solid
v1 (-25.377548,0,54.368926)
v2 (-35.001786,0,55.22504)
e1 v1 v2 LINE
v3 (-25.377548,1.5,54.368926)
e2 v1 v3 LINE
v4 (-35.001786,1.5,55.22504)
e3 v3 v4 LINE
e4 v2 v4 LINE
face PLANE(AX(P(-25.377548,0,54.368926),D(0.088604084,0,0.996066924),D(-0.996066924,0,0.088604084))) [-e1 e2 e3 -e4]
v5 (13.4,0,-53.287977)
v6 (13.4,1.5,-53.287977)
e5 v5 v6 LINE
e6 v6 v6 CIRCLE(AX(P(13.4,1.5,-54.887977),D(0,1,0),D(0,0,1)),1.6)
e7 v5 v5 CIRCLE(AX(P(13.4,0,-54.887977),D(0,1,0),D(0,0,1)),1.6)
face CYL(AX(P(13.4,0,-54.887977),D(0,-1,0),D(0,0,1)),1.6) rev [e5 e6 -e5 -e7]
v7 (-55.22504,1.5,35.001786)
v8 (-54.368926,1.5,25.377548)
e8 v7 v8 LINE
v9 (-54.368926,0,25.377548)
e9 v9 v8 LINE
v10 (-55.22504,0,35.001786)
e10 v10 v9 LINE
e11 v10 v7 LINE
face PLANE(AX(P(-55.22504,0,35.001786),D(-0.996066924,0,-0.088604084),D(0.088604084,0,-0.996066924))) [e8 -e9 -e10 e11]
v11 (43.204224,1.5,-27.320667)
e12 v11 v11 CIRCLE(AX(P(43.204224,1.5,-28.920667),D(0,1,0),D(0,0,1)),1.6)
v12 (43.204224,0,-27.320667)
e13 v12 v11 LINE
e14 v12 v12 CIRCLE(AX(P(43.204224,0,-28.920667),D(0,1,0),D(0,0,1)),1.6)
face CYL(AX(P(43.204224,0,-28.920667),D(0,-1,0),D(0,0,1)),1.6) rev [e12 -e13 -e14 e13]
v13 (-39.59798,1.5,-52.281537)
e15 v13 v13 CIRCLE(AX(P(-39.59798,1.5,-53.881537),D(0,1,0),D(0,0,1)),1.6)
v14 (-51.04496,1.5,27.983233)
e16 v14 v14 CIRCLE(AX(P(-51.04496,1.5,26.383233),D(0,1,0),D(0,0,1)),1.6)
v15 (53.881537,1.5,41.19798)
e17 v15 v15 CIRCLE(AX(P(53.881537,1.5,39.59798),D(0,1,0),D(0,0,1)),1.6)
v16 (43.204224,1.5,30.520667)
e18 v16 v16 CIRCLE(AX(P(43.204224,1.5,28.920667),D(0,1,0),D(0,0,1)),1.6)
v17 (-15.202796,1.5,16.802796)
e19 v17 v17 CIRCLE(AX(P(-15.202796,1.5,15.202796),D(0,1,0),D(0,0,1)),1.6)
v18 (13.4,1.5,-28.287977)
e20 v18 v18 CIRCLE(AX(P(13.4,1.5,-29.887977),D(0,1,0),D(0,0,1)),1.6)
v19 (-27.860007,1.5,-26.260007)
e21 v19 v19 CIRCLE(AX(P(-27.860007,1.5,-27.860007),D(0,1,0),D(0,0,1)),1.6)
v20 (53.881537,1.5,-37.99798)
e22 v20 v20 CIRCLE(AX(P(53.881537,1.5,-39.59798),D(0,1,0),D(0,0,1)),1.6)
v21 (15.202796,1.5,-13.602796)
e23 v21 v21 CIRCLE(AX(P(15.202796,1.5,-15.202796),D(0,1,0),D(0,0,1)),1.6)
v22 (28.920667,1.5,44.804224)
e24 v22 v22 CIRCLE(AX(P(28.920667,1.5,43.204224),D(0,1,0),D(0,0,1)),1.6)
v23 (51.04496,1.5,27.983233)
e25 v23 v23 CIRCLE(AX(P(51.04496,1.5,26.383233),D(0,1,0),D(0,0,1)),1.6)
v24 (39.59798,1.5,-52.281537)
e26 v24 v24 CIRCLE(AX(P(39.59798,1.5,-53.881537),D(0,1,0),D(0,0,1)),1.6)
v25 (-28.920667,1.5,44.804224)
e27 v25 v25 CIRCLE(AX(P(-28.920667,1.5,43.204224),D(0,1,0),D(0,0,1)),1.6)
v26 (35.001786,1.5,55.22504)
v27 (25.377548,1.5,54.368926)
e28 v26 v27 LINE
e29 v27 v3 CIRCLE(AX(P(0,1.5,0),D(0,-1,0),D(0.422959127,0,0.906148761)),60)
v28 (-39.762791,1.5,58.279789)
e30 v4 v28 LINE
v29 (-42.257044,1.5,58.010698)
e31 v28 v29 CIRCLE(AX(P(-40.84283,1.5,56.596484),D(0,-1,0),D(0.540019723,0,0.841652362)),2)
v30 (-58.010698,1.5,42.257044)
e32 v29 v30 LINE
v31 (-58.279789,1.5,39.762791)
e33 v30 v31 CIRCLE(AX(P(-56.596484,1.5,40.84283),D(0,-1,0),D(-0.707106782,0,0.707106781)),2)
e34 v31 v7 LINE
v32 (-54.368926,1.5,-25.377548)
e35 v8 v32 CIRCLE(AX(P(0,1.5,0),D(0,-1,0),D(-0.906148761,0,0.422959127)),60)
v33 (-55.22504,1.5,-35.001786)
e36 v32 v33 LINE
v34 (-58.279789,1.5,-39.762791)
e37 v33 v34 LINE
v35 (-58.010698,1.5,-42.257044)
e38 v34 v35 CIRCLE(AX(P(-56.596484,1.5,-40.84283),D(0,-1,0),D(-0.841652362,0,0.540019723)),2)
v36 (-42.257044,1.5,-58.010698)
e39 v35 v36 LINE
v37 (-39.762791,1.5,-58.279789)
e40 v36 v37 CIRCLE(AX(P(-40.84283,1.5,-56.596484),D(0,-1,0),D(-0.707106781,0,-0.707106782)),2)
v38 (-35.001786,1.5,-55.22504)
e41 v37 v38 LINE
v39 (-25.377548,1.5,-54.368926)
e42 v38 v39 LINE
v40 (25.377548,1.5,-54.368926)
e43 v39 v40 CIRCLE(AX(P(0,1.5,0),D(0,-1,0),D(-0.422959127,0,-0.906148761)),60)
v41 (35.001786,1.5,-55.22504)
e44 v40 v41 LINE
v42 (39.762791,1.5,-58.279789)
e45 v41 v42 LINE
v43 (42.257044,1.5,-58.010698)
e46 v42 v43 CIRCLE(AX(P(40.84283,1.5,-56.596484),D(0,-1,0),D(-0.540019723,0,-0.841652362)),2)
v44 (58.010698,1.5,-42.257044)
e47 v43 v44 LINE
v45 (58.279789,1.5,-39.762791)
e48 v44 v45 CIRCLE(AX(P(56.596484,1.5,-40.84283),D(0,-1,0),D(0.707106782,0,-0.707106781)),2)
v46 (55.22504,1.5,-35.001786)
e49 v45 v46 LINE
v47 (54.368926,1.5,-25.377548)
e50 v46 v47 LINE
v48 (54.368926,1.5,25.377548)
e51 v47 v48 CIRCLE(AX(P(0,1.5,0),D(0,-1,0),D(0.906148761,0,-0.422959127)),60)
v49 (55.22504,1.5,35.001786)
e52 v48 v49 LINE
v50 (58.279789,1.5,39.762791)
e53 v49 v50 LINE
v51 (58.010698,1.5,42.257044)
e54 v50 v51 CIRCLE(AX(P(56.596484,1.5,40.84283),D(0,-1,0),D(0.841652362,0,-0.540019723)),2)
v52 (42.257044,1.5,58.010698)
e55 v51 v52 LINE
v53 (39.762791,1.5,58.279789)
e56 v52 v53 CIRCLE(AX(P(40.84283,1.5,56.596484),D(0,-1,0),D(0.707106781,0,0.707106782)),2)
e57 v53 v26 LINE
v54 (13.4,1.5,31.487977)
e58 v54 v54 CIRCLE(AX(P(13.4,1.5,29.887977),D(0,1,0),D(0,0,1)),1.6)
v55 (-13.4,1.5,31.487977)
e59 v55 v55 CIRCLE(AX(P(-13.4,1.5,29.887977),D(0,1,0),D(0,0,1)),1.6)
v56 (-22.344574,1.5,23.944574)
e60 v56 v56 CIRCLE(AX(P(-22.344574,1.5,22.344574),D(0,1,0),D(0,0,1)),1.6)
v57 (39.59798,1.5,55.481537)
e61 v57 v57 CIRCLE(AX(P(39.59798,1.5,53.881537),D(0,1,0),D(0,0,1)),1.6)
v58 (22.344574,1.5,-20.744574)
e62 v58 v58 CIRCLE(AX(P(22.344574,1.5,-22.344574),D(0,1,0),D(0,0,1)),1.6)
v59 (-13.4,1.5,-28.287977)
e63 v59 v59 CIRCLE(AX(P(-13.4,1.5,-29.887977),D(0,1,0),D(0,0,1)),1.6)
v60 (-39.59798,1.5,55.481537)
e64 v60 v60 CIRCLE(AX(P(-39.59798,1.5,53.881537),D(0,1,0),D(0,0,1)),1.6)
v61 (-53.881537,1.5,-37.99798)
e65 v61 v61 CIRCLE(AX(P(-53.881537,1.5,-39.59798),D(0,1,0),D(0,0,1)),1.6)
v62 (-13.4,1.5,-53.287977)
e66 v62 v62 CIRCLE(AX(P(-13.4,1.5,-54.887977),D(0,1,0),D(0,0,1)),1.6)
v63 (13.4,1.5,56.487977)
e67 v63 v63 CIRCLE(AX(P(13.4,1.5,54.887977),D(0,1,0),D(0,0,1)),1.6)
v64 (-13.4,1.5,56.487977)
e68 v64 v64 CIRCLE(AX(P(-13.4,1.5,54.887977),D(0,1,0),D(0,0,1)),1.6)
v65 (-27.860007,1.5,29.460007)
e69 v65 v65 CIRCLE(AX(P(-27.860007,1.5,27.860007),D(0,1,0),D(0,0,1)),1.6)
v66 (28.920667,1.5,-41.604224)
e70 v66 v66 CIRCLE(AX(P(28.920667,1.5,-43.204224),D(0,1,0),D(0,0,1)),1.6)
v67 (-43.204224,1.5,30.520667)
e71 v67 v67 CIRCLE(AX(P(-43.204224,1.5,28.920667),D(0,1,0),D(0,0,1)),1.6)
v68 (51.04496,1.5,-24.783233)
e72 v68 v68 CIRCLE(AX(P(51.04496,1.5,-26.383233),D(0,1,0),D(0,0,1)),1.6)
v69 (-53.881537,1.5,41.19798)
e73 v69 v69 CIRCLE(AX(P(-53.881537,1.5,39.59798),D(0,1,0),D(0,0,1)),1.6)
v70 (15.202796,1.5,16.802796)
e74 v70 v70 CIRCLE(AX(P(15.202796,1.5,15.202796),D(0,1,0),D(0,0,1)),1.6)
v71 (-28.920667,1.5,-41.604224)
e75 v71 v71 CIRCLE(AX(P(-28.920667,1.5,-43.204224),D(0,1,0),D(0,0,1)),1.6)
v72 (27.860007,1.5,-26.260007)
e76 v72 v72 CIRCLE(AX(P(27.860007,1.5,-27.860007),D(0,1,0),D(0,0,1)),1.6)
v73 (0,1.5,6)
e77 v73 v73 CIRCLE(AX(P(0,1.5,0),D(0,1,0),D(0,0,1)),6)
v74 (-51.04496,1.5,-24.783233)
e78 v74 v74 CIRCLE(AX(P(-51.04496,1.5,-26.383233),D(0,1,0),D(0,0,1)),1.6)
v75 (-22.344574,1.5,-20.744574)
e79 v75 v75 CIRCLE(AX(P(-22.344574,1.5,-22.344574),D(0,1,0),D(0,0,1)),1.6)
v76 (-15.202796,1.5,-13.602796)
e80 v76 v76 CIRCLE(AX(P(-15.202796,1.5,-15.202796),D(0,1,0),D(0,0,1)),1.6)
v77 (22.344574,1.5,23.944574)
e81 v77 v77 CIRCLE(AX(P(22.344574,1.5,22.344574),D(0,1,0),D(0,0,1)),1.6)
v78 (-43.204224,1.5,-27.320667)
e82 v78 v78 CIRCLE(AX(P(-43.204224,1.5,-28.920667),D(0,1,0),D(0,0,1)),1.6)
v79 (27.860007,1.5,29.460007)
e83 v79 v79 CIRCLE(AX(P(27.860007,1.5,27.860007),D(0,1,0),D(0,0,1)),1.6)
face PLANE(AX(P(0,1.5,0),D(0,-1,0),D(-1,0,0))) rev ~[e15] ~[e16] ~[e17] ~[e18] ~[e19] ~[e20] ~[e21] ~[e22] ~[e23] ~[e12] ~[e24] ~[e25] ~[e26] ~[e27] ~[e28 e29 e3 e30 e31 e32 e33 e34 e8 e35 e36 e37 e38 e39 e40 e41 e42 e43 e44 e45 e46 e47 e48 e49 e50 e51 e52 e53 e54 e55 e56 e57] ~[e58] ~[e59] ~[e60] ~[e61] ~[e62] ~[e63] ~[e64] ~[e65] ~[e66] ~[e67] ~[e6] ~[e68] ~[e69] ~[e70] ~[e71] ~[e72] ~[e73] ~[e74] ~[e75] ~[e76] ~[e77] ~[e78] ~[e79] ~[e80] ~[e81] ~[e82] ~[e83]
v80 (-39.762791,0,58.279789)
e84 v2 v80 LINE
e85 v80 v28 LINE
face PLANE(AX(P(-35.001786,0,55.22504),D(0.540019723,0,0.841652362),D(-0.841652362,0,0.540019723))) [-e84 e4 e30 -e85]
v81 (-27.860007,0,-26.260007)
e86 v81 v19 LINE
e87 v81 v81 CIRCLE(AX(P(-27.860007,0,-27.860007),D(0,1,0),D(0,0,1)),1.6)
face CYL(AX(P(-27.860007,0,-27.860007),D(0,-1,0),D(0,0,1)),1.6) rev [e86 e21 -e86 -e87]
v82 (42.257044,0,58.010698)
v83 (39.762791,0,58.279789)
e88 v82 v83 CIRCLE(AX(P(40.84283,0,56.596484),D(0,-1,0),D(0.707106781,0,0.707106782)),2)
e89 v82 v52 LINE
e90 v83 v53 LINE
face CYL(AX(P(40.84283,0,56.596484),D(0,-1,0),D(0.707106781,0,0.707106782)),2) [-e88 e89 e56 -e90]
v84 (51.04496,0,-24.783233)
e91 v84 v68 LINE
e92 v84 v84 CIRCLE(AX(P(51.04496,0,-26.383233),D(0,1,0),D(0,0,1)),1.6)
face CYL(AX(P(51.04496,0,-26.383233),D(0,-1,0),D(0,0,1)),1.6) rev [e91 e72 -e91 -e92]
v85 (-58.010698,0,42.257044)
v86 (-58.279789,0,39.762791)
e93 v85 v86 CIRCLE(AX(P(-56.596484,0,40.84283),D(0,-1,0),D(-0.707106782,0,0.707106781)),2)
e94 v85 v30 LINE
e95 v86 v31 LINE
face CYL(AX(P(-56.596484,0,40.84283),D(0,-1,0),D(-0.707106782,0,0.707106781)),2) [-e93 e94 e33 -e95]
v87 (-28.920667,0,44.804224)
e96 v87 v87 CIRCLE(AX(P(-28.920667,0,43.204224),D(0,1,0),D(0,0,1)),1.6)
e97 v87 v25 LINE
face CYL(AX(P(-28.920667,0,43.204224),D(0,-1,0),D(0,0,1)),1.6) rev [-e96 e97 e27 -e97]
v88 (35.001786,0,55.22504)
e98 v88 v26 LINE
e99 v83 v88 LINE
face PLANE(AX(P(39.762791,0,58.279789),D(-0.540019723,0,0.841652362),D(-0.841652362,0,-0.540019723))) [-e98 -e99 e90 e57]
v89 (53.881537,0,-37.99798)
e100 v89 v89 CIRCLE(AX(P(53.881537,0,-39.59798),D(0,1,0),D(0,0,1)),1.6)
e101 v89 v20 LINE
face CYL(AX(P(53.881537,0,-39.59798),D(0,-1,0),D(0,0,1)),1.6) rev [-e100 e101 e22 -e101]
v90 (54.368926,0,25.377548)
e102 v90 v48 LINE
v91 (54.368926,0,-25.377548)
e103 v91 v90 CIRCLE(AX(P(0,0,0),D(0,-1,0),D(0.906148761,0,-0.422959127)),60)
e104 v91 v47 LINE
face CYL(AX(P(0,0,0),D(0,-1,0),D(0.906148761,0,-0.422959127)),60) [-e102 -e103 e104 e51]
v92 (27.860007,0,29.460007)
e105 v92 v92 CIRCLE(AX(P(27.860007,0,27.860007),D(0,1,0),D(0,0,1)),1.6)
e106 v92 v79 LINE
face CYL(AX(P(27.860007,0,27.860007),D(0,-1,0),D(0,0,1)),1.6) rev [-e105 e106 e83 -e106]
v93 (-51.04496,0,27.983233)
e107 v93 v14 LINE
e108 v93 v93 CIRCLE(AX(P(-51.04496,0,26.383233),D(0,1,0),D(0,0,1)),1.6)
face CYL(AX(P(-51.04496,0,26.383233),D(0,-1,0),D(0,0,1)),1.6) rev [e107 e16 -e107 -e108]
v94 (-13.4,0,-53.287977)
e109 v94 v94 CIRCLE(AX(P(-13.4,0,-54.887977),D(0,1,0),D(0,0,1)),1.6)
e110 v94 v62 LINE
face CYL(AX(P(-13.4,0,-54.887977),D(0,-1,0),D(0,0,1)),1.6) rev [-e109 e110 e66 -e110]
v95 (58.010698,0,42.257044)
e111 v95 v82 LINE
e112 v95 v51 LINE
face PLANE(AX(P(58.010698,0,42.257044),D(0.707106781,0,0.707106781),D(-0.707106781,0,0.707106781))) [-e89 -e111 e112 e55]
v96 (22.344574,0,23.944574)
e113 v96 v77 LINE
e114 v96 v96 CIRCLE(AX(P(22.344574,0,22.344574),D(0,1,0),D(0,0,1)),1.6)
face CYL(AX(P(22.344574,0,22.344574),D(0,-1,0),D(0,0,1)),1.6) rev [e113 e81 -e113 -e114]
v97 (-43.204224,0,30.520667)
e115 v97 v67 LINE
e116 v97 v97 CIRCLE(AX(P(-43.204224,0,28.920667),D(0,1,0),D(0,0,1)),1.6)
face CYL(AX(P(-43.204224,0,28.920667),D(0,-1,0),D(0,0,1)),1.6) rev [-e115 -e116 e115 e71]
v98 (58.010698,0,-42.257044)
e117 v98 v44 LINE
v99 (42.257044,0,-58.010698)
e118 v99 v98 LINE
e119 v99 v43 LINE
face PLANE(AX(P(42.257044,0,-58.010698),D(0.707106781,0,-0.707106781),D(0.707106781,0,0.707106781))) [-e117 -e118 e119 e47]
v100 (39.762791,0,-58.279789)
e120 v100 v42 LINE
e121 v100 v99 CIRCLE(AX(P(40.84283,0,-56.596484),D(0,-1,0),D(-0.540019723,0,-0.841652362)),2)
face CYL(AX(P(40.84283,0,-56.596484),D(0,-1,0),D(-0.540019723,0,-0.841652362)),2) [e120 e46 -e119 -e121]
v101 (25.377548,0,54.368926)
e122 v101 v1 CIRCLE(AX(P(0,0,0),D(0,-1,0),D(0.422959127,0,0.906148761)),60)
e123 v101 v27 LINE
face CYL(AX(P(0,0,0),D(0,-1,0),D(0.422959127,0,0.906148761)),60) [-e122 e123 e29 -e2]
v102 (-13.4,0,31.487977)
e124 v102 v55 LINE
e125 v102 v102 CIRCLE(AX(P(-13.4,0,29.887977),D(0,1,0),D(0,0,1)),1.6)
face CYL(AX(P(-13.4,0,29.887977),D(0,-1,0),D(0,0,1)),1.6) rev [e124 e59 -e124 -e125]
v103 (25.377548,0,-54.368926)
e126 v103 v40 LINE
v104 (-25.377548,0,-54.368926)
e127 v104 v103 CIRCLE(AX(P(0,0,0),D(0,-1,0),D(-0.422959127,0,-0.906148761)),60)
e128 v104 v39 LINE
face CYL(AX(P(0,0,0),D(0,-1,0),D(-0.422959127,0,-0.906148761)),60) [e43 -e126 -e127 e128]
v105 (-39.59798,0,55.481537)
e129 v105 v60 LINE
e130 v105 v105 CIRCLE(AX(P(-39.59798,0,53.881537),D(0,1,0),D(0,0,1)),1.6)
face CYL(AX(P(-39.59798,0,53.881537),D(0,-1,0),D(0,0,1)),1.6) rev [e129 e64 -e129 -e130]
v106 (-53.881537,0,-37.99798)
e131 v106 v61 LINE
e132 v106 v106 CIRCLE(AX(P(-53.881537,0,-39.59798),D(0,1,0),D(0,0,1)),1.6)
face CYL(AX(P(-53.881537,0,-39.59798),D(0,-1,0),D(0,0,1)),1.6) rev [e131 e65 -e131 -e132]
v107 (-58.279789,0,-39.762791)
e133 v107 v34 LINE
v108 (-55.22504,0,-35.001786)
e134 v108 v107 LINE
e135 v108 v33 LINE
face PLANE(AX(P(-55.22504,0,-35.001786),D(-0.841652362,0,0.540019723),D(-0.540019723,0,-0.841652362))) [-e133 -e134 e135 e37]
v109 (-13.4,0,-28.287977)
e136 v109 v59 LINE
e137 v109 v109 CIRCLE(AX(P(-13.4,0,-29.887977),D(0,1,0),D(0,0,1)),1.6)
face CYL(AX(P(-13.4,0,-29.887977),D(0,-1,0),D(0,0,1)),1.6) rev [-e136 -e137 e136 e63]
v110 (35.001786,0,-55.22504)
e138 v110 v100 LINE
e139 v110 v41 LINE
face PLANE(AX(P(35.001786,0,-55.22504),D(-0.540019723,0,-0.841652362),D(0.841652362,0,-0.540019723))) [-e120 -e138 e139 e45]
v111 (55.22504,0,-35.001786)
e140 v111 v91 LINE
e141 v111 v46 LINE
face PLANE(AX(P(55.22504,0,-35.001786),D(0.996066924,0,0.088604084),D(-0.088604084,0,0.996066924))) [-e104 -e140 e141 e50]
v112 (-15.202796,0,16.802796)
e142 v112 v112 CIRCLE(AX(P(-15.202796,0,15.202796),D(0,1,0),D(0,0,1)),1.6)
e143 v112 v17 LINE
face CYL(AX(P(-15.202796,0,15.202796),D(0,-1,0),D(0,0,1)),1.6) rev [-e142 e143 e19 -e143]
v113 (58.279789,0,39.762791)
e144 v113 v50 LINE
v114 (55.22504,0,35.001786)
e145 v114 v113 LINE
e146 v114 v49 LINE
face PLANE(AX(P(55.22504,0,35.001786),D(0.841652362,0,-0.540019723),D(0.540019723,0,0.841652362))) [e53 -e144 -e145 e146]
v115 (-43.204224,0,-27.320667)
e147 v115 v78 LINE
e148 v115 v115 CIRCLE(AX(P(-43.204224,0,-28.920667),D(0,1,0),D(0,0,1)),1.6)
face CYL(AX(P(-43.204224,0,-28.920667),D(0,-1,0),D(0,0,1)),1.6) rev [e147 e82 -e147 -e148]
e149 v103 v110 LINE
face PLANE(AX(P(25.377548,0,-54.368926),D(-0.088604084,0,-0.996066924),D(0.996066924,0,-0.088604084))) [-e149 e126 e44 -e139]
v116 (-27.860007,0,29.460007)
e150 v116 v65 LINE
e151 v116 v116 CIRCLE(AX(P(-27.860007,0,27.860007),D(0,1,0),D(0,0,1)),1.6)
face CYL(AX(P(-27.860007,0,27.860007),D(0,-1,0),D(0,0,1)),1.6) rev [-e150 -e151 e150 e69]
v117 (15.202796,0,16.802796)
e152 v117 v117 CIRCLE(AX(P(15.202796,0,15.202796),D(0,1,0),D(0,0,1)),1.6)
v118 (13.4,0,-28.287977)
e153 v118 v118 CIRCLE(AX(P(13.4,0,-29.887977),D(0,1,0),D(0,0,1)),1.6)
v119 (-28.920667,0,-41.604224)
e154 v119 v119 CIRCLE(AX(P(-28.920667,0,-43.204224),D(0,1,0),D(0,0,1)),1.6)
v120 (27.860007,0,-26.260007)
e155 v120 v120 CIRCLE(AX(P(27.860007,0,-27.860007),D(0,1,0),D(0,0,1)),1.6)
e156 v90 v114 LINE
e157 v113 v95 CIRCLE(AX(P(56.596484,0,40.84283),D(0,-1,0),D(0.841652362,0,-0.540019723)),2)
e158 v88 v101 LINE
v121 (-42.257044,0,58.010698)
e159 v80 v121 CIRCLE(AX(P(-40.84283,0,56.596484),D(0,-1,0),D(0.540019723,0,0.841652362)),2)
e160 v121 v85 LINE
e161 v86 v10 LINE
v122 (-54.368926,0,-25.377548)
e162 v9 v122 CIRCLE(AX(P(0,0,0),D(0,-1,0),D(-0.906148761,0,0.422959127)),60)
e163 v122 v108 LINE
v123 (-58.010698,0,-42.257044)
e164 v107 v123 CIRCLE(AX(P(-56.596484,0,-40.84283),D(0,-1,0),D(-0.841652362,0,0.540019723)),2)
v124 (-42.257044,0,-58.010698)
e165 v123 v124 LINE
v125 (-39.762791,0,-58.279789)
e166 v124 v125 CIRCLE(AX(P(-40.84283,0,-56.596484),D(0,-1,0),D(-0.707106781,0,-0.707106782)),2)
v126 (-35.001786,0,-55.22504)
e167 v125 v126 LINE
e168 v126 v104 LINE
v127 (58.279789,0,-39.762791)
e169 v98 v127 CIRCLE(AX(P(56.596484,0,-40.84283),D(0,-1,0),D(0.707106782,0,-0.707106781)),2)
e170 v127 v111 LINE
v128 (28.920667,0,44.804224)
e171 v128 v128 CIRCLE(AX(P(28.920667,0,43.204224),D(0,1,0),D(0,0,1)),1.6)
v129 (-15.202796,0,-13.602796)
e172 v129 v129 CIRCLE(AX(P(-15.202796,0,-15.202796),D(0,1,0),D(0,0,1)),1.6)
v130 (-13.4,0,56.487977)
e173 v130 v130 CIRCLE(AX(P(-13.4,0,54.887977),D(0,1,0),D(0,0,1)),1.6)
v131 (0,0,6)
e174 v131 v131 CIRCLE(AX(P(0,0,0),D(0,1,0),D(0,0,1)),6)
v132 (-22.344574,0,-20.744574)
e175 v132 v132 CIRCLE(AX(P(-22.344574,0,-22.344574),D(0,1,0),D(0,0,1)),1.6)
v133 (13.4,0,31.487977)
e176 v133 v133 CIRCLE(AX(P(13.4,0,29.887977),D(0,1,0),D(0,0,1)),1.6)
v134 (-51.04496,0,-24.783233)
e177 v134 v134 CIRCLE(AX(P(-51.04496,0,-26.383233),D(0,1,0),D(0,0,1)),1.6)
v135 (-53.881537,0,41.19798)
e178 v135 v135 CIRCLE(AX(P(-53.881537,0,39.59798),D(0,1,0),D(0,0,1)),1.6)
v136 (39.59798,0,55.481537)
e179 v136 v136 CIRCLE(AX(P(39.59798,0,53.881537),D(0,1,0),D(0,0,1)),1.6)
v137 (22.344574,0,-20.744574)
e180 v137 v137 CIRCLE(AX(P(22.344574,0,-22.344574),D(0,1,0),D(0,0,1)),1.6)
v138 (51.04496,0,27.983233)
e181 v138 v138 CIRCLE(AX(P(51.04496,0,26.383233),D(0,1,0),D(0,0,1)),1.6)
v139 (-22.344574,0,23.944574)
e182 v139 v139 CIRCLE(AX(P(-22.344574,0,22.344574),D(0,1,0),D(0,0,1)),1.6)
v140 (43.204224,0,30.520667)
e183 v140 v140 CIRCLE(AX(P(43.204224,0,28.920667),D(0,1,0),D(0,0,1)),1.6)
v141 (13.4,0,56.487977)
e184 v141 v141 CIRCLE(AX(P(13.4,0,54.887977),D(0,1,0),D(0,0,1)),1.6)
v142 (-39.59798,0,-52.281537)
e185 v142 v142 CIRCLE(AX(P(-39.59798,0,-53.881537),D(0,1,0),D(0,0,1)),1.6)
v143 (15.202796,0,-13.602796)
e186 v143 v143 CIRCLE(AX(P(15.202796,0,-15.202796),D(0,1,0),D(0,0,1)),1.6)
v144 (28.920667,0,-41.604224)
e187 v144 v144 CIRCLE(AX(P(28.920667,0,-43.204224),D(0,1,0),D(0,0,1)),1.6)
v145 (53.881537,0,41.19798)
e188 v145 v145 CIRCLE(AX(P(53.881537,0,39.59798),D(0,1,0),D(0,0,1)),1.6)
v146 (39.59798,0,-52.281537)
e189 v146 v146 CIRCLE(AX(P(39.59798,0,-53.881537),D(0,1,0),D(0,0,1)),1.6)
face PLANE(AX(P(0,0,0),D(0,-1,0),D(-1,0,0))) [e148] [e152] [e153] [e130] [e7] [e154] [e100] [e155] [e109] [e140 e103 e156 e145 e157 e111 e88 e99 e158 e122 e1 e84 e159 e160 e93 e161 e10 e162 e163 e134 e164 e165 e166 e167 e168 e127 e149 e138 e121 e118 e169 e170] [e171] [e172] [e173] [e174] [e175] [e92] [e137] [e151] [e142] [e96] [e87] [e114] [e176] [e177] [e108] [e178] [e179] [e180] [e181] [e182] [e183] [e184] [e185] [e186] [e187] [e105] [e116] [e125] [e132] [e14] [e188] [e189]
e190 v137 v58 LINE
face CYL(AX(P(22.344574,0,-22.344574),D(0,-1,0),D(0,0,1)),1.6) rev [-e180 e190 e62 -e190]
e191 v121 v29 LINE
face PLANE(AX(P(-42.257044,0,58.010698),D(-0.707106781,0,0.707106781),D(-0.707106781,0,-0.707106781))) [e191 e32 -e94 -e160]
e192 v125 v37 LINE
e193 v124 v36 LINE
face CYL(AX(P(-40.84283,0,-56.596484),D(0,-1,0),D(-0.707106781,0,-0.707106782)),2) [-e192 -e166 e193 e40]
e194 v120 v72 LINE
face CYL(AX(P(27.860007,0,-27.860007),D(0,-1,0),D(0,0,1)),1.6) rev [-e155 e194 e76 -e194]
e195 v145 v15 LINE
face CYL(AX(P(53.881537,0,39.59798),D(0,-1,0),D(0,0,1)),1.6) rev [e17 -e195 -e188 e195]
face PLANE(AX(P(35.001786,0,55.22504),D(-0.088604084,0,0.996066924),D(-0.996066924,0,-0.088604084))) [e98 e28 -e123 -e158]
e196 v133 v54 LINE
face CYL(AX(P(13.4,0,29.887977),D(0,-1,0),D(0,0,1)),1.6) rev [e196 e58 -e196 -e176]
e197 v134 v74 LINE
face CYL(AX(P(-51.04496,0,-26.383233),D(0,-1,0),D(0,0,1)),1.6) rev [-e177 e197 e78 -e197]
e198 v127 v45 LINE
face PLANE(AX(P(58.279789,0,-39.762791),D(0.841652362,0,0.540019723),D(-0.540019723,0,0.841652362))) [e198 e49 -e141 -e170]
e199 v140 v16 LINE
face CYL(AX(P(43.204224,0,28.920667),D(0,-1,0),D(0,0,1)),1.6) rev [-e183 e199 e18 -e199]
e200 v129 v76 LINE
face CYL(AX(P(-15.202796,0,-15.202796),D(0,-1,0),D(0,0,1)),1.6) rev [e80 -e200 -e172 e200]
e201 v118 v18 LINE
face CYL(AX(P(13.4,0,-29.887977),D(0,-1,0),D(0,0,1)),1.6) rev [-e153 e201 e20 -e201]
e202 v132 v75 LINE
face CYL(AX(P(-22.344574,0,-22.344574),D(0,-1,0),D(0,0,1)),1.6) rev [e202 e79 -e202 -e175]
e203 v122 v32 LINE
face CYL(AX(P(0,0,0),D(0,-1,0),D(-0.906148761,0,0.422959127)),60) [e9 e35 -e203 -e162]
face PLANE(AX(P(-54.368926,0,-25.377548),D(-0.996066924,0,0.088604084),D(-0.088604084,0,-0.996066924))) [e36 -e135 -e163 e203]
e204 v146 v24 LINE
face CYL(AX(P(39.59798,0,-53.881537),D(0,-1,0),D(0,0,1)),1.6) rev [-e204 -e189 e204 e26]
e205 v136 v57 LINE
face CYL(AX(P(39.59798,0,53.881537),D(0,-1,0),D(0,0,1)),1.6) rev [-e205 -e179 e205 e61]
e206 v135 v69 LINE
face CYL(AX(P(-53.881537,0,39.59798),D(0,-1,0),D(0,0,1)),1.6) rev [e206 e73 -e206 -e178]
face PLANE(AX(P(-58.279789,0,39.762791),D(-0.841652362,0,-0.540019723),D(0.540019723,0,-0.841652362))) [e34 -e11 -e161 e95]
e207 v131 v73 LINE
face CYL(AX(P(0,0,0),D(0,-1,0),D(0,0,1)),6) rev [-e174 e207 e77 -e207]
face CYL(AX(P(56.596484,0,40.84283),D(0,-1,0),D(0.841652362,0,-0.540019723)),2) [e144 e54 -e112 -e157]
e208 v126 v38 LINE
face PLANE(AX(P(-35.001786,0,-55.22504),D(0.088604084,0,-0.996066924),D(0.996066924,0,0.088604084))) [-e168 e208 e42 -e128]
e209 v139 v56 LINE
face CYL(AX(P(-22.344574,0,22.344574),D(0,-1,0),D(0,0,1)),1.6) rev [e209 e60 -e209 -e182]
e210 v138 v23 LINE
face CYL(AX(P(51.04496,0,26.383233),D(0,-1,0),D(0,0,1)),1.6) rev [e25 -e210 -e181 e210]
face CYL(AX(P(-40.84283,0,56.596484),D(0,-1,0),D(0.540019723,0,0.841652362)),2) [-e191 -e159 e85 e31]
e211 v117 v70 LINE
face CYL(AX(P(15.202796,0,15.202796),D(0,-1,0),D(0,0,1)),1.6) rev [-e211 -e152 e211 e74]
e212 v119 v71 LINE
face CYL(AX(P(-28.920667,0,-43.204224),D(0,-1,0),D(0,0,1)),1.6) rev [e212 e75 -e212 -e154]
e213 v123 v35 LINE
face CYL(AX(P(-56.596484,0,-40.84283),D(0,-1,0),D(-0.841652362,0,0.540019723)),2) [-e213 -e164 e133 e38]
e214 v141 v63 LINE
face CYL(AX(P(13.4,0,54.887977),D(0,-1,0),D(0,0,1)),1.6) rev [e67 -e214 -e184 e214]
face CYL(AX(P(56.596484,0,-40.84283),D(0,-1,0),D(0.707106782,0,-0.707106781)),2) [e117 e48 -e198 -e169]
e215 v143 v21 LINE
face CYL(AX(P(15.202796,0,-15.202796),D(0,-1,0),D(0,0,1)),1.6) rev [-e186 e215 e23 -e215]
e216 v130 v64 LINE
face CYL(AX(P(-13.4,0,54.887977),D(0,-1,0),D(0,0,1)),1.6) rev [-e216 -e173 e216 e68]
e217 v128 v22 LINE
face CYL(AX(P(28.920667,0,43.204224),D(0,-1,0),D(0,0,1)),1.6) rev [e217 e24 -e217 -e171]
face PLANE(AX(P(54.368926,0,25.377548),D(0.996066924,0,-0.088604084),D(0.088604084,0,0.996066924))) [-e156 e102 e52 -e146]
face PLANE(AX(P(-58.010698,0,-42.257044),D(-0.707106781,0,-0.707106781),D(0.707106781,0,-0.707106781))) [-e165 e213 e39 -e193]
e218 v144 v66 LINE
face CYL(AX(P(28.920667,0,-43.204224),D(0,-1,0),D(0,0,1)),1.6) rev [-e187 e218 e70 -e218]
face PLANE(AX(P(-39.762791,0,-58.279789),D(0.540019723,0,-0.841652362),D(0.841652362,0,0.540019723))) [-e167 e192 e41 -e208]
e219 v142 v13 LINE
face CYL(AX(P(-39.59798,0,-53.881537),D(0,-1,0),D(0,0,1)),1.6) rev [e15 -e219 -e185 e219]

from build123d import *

# Parameters (mm, degrees)
SKETCH_1_R      = 1.6
SKETCH_1_R_2    = 6
EXTRUDE_2_DEPTH = 1.5


with BuildPart() as part:
    # 草图1 → 凸台-拉伸2 (new body)
    with BuildSketch(Plane(origin=(0, 0, 0), x_dir=(1, 0, 0), z_dir=(0, 1, 0))):
        with BuildLine():
            Line((58.010697546, -42.257044027), (42.257044027, -58.010697546))
            ThreePointArc((42.257044027, -58.010697546), (41.057354584, -58.58494555), (39.762791017, -58.279788707))
            Line((39.762791017, -58.279788707), (35.001785669, -55.225039611))
            Line((35.001785669, -55.225039611), (25.377547624, -54.368925652))
            ThreePointArc((25.377547624, -54.368925652), (0, -60), (-25.377547624, -54.368925652))
            Line((-25.377547624, -54.368925652), (-35.001785669, -55.225039611))
            Line((-35.001785669, -55.225039611), (-39.762791017, -58.279788707))
            ThreePointArc((-39.762791017, -58.279788707), (-41.057354584, -58.58494555), (-42.257044027, -58.010697546))
            Line((-42.257044027, -58.010697546), (-58.010697546, -42.257044027))
            ThreePointArc((-58.010697546, -42.257044027), (-58.58494555, -41.057354584), (-58.279788707, -39.762791017))
            Line((-58.279788707, -39.762791017), (-55.225039611, -35.001785669))
            Line((-55.225039611, -35.001785669), (-54.368925652, -25.377547624))
            ThreePointArc((-54.368925652, -25.377547624), (-60, 0), (-54.368925652, 25.377547624))
            Line((-54.368925652, 25.377547624), (-55.225039611, 35.001785669))
            Line((-55.225039611, 35.001785669), (-58.279788707, 39.762791017))
            ThreePointArc((-58.279788707, 39.762791017), (-58.58494555, 41.057354584), (-58.010697546, 42.257044027))
            Line((-58.010697546, 42.257044027), (-42.257044027, 58.010697546))
            ThreePointArc((-42.257044027, 58.010697546), (-41.057354584, 58.58494555), (-39.762791017, 58.279788707))
            Line((-39.762791017, 58.279788707), (-35.001785669, 55.225039611))
            Line((-35.001785669, 55.225039611), (-25.377547624, 54.368925652))
            ThreePointArc((-25.377547624, 54.368925652), (0, 60), (25.377547624, 54.368925652))
            Line((25.377547624, 54.368925652), (35.001785669, 55.225039611))
            Line((35.001785669, 55.225039611), (39.762791017, 58.279788707))
            ThreePointArc((39.762791017, 58.279788707), (41.057354584, 58.58494555), (42.257044027, 58.010697546))
            Line((42.257044027, 58.010697546), (58.010697546, 42.257044027))
            ThreePointArc((58.010697546, 42.257044027), (58.58494555, 41.057354584), (58.279788707, 39.762791017))
            Line((58.279788707, 39.762791017), (55.225039611, 35.001785669))
            Line((55.225039611, 35.001785669), (54.368925652, 25.377547624))
            ThreePointArc((54.368925652, 25.377547624), (60, 0), (54.368925652, -25.377547624))
            Line((54.368925652, -25.377547624), (55.225039611, -35.001785669))
            Line((55.225039611, -35.001785669), (58.279788707, -39.762791017))
            ThreePointArc((58.279788707, -39.762791017), (58.58494555, -41.057354584), (58.010697546, -42.257044027))
        make_face()
        with Locations(Location((39.597979746, 53.881536726, 0), (0, 0, 270))):
            Circle(SKETCH_1_R, mode=Mode.SUBTRACT)
        with Locations(Location((53.881536726, 39.597979746, 0), (0, 0, 270))):
            Circle(SKETCH_1_R, mode=Mode.SUBTRACT)
        with Locations(Location((28.920667351, 43.20422433, 0), (0, 0, 270))):
            Circle(SKETCH_1_R, mode=Mode.SUBTRACT)
        with Locations(Location((43.20422433, 28.920667351, 0), (0, 0, 270))):
            Circle(SKETCH_1_R, mode=Mode.SUBTRACT)
        with Locations(Location((27.860007179, 27.860007179, 0), (0, 0, 270))):
            Circle(SKETCH_1_R, mode=Mode.SUBTRACT)
        with Locations(Location((22.344574285, 22.344574285, 0), (0, 0, 270))):
            Circle(SKETCH_1_R, mode=Mode.SUBTRACT)
        with Locations(Location((15.202795796, 15.202795796, 0), (0, 0, 270))):
            Circle(SKETCH_1_R, mode=Mode.SUBTRACT)
        with Locations(Location((13.4, 54.887976826, 0), (0, 0, 270))):
            Circle(SKETCH_1_R, mode=Mode.SUBTRACT)
        with Locations(Location((13.4, 29.887976826, 0), (0, 0, 270))):
            Circle(SKETCH_1_R, mode=Mode.SUBTRACT)
        with Locations(Location((-13.4, 29.887976826, 0), (0, 0, 270))):
            Circle(SKETCH_1_R, mode=Mode.SUBTRACT)
        with Locations(Location((-13.4, 54.887976826, 0), (0, 0, 270))):
            Circle(SKETCH_1_R, mode=Mode.SUBTRACT)
        with Locations(Location((51.04496003, 26.38323251, 0), (0, 0, 270))):
            Circle(SKETCH_1_R, mode=Mode.SUBTRACT)
        with Locations(Location((-15.202795796, 15.202795796, 0), (0, 0, 270))):
            Circle(SKETCH_1_R, mode=Mode.SUBTRACT)
        with Locations(Location((-22.344574285, 22.344574285, 0), (0, 0, 270))):
            Circle(SKETCH_1_R, mode=Mode.SUBTRACT)
        with Locations(Location((-27.860007179, 27.860007179, 0), (0, 0, 270))):
            Circle(SKETCH_1_R, mode=Mode.SUBTRACT)
        with Locations(Location((-43.20422433, 28.920667351, 0), (0, 0, 270))):
            Circle(SKETCH_1_R, mode=Mode.SUBTRACT)
        with Locations(Location((-51.04496003, 26.38323251, 0), (0, 0, 270))):
            Circle(SKETCH_1_R, mode=Mode.SUBTRACT)
        with Locations(Location((-28.920667351, 43.20422433, 0), (0, 0, 270))):
            Circle(SKETCH_1_R, mode=Mode.SUBTRACT)
        with Locations(Location((-53.881536726, 39.597979746, 0), (0, 0, 270))):
            Circle(SKETCH_1_R, mode=Mode.SUBTRACT)
        with Locations(Location((-39.597979746, 53.881536726, 0), (0, 0, 270))):
            Circle(SKETCH_1_R, mode=Mode.SUBTRACT)
        with Locations(Location((43.20422433, -28.920667351, 0), (0, 0, 270))):
            Circle(SKETCH_1_R, mode=Mode.SUBTRACT)
        with Locations(Location((51.04496003, -26.38323251, 0), (0, 0, 270))):
            Circle(SKETCH_1_R, mode=Mode.SUBTRACT)
        with Locations(Location((53.881536726, -39.597979746, 0), (0, 0, 270))):
            Circle(SKETCH_1_R, mode=Mode.SUBTRACT)
        with Locations(Location((39.597979746, -53.881536726, 0), (0, 0, 270))):
            Circle(SKETCH_1_R, mode=Mode.SUBTRACT)
        with Locations(Location((28.920667351, -43.20422433, 0), (0, 0, 270))):
            Circle(SKETCH_1_R, mode=Mode.SUBTRACT)
        with Locations(Location((27.860007179, -27.860007179, 0), (0, 0, 270))):
            Circle(SKETCH_1_R, mode=Mode.SUBTRACT)
        with Locations(Location((22.344574285, -22.344574285, 0), (0, 0, 270))):
            Circle(SKETCH_1_R, mode=Mode.SUBTRACT)
        with Locations(Location((15.202795796, -15.202795796, 0), (0, 0, 270))):
            Circle(SKETCH_1_R, mode=Mode.SUBTRACT)
        with Locations(Location((13.4, -29.887976826, 0), (0, 0, 270))):
            Circle(SKETCH_1_R, mode=Mode.SUBTRACT)
        with Locations(Location((13.4, -54.887976826, 0), (0, 0, 270))):
            Circle(SKETCH_1_R, mode=Mode.SUBTRACT)
        with Locations(Location((-13.4, -29.887976826, 0), (0, 0, 270))):
            Circle(SKETCH_1_R, mode=Mode.SUBTRACT)
        with Locations(Location((-15.202795796, -15.202795796, 0), (0, 0, 270))):
            Circle(SKETCH_1_R, mode=Mode.SUBTRACT)
        with Locations(Location((-22.344574285, -22.344574285, 0), (0, 0, 270))):
            Circle(SKETCH_1_R, mode=Mode.SUBTRACT)
        with Locations(Location((-27.860007179, -27.860007179, 0), (0, 0, 270))):
            Circle(SKETCH_1_R, mode=Mode.SUBTRACT)
        with Locations(Location((-13.4, -54.887976826, 0), (0, 0, 270))):
            Circle(SKETCH_1_R, mode=Mode.SUBTRACT)
        with Locations(Location((-28.920667351, -43.20422433, 0), (0, 0, 270))):
            Circle(SKETCH_1_R, mode=Mode.SUBTRACT)
        with Locations(Location((-43.20422433, -28.920667351, 0), (0, 0, 270))):
            Circle(SKETCH_1_R, mode=Mode.SUBTRACT)
        with Locations(Location((-51.04496003, -26.38323251, 0), (0, 0, 270))):
            Circle(SKETCH_1_R, mode=Mode.SUBTRACT)
        with Locations(Location((-39.597979746, -53.881536726, 0), (0, 0, 270))):
            Circle(SKETCH_1_R, mode=Mode.SUBTRACT)
        with Locations(Location((-53.881536726, -39.597979746, 0), (0, 0, 270))):
            Circle(SKETCH_1_R, mode=Mode.SUBTRACT)
        with Locations(Location((0, 0, 0), (0, 0, 270))):
            Circle(SKETCH_1_R_2, mode=Mode.SUBTRACT)
    extrude(amount=EXTRUDE_2_DEPTH)


solid = part.part
